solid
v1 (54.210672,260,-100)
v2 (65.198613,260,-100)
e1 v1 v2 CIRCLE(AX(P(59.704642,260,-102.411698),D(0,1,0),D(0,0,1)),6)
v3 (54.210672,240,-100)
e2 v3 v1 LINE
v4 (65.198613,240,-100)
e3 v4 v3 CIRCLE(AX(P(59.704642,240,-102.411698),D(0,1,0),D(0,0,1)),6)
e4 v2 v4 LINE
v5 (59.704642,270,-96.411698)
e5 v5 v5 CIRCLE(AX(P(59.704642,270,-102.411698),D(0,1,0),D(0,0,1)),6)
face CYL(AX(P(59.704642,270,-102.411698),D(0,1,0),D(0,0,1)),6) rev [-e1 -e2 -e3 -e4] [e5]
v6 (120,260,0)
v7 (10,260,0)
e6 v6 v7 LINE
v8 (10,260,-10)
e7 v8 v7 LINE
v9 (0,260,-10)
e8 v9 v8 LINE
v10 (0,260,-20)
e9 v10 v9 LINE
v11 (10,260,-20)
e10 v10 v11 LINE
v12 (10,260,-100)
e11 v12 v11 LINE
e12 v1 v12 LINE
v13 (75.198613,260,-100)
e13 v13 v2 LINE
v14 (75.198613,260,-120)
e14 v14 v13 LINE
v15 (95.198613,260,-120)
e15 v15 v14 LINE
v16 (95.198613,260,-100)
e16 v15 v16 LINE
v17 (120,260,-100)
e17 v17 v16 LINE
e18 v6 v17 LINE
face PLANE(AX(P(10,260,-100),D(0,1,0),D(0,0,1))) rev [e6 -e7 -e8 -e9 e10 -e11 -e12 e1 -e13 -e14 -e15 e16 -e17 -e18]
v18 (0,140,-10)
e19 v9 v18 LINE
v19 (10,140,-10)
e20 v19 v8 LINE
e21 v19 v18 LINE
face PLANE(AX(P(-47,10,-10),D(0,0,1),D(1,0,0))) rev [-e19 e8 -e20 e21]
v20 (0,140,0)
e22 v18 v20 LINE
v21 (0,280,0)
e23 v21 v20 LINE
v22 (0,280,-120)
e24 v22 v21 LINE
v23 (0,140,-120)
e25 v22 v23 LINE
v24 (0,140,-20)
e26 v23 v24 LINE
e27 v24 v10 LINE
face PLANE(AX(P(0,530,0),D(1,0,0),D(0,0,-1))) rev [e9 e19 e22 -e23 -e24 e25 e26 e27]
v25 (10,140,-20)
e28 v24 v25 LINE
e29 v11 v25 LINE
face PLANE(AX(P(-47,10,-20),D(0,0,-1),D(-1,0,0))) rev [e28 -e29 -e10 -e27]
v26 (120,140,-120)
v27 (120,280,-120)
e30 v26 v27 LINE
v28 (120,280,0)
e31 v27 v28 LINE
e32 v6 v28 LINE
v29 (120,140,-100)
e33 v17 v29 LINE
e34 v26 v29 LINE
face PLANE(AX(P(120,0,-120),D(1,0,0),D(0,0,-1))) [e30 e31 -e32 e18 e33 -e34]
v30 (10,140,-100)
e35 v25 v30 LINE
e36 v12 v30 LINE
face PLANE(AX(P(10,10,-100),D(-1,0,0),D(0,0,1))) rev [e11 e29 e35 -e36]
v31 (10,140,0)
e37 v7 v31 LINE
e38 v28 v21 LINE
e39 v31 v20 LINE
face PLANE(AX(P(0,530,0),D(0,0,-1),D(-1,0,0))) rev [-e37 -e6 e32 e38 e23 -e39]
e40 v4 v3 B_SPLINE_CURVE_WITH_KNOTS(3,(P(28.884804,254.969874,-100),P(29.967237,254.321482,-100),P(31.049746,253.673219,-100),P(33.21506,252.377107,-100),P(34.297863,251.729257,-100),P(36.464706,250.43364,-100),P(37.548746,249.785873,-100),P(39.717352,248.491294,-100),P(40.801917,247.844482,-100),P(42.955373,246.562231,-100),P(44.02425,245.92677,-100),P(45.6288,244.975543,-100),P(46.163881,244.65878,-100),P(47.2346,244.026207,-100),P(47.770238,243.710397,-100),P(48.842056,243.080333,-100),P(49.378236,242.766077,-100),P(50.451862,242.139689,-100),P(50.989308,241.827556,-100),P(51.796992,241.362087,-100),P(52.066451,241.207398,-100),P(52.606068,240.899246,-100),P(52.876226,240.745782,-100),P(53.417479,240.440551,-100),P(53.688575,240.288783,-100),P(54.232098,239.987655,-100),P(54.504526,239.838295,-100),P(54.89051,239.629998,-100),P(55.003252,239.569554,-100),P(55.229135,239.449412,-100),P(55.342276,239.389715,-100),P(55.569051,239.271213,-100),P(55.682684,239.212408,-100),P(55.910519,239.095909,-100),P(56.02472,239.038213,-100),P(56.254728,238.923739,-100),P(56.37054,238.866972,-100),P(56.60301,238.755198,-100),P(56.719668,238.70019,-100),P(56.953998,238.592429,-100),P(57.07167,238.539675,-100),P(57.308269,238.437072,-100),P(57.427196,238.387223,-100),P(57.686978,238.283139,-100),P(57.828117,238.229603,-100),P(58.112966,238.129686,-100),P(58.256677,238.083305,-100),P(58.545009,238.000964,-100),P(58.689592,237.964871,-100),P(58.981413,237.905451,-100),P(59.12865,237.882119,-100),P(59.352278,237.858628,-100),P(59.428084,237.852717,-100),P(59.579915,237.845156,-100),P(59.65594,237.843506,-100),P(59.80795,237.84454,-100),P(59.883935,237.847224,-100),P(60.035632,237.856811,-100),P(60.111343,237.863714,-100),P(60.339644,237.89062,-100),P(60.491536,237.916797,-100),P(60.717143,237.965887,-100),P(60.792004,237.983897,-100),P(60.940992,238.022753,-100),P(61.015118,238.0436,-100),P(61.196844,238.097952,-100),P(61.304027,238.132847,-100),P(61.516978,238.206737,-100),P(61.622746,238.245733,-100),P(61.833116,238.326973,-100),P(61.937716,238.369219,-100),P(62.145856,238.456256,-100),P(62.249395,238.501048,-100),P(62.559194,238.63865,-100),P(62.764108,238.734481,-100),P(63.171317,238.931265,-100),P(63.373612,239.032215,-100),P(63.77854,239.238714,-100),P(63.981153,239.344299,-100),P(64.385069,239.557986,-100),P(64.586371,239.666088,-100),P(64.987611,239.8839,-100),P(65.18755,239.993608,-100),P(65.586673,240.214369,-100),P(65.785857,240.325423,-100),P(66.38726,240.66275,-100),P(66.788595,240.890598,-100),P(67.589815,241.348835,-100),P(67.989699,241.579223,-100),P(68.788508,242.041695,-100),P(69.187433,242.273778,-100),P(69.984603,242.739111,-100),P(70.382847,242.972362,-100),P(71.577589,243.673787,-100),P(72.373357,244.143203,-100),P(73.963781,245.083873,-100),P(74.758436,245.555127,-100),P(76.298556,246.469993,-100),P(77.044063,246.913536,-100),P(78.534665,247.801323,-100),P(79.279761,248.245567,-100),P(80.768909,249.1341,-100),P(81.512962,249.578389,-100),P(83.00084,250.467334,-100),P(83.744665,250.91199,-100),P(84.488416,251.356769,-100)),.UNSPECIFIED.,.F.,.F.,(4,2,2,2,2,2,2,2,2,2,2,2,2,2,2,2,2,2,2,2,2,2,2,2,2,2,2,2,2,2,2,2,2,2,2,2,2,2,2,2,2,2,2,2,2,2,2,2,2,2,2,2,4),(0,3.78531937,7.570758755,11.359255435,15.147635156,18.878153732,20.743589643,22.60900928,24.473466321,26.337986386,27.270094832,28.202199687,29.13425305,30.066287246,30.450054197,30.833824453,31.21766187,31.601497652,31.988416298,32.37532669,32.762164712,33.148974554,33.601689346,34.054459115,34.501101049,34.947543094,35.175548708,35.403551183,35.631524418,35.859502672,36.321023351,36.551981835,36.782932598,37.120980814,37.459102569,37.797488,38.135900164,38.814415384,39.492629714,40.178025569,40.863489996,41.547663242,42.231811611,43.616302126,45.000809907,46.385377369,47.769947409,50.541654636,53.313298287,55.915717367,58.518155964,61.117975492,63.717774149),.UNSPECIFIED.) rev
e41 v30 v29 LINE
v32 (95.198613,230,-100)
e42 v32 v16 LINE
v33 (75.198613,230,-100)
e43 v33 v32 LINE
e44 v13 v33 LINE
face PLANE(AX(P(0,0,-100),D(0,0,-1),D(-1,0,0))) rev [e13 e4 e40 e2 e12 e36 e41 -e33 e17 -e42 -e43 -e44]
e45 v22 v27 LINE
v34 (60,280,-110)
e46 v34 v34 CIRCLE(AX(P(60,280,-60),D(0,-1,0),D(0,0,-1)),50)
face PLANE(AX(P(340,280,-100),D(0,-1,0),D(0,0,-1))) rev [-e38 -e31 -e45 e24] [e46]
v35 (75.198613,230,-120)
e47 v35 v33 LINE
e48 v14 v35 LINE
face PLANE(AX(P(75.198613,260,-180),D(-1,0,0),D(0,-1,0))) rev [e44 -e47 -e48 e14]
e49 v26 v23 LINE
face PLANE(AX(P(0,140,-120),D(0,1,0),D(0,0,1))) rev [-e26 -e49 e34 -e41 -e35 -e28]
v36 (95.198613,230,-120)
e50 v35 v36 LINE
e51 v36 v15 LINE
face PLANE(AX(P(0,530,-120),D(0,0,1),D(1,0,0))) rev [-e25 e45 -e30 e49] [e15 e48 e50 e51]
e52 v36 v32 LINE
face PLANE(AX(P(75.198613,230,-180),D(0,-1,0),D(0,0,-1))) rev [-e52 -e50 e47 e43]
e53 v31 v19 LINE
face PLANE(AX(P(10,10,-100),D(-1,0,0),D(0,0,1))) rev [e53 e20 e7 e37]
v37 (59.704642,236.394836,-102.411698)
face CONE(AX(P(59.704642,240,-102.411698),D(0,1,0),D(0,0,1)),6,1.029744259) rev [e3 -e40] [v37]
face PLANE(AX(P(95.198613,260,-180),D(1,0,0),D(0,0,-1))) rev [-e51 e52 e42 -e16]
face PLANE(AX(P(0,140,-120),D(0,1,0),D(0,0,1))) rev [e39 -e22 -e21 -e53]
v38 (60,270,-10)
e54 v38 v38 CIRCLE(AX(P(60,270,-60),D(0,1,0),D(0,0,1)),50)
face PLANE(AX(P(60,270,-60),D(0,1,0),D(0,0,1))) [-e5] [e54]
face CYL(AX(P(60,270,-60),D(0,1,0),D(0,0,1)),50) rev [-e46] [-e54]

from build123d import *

# Parameters (mm, degrees)
SKETCH1_W                      = 670
SKETCH1_H                      = 120
BOSS_EXTRUDE1_DEPTH            = 530
SKETCH2_W                      = 100
SKETCH2_H                      = 200
SKETCH2_W_2                    = 650
SKETCH2_H_2                    = 250
CUT_EXTRUDE1_DEPTH             = 100
SKETCH3_R                      = 50
CUT_EXTRUDE2_DEPTH             = 260
F_12_0_12_DIAMETER_HOLE2_D     = 12
F_12_0_12_DIAMETER_HOLE2_DEPTH = 30
F_12_0_12_DIAMETER_HOLE2_TIP   = 3.605163714
SKETCH8_W                      = 650
SKETCH8_H                      = 50
BOSS_EXTRUDE2_DEPTH            = 5
SKETCH9_W                      = 10
SKETCH9_H                      = 250
CUT_EXTRUDE3_DEPTH             = 717
CUT_EXTRUDE4_DEPTH             = 5
SKETCH11_W                     = 10
SKETCH11_H                     = 100
BOSS_EXTRUDE3_DEPTH            = 78
BOSS_EXTRUDE3_2_DEPTH          = 78
BOSS_EXTRUDE3_3_DEPTH          = 78
SKETCH12_W                     = 20
SKETCH12_H                     = 30
CUT_EXTRUDE5_DEPTH             = 80
SKETCH15_W                     = 30
SKETCH15_H                     = 23.536156656
SKETCH15_H_2                   = 28.986603691
CUT_EXTRUDE7_DEPTH             = 35
SHELL1_T                       = -3
SKETCH16_W                     = 14
SKETCH16_H                     = 14
CUT_EXTRUDE8_DEPTH             = 35
SKETCH17_W                     = 5.729882812
SKETCH17_H                     = 17.428393554
SKETCH17_W_2                   = 13.369726562
SKETCH17_H_2                   = 3.342431641
BOSS_EXTRUDE4_DEPTH            = 5
CUT_EXTRUDE10_DEPTH            = 863.670273187
CUT_EXTRUDE10_DEPTH_BACK       = 863.670273187
SKETCH18_W                     = 670
SKETCH18_H                     = 250
CUT_EXTRUDE11_DEPTH            = 734.007503372
CUT_EXTRUDE11_DEPTH_BACK       = 734.007503372
SKETCH19_W                     = 550
SKETCH19_H                     = 280
CUT_EXTRUDE12_DEPTH            = 321.624390838
CUT_EXTRUDE12_DEPTH_BACK       = 321.624390838
SKETCH20_W                     = 120
SKETCH20_H                     = 140


with BuildPart() as part:
    # Sketch1 → Boss-Extrude1 (new body)
    with BuildSketch(Plane(origin=(0, 0, 0), x_dir=(1, 0, 0), z_dir=(0, 1, 0))):
        with Locations((335, 60)):
            Rectangle(SKETCH1_W, SKETCH1_H)
    extrude(amount=BOSS_EXTRUDE1_DEPTH)

    # Sketch2 → Cut-Extrude1 (cut)
    with BuildSketch(Plane.XY):
        with Locations((60, 380)):
            Rectangle(SKETCH2_W, SKETCH2_H)
        with Locations((170, 380)):
            Rectangle(SKETCH2_W, SKETCH2_H)
        with Locations((280, 380)):
            Rectangle(SKETCH2_W, SKETCH2_H)
        with Locations((390, 380)):
            Rectangle(SKETCH2_W, SKETCH2_H)
        with Locations((500, 380)):
            Rectangle(SKETCH2_W, SKETCH2_H)
        with Locations((610, 380)):
            Rectangle(SKETCH2_W, SKETCH2_H)
        with Locations((335, 135)):
            Rectangle(SKETCH2_W_2, SKETCH2_H_2)
    extrude(amount=-CUT_EXTRUDE1_DEPTH, mode=Mode.SUBTRACT)

    # Sketch3 → Cut-Extrude2 (cut)
    with BuildSketch(Plane(origin=(0, 530, 0), x_dir=(1, 0, 0), z_dir=(0, 1, 0))):
        with Locations(Location((60, 60, 0), (0, 0, 270))):
            Circle(SKETCH3_R)
        with Locations(Location((170, 60, 0), (0, 0, 270))):
            Circle(SKETCH3_R)
        with Locations(Location((280, 60, 0), (0, 0, 270))):
            Circle(SKETCH3_R)
        with Locations(Location((390, 60, 0), (0, 0, 270))):
            Circle(SKETCH3_R)
        with Locations(Location((500, 60, 0), (0, 0, 270))):
            Circle(SKETCH3_R)
        with Locations(Location((610, 60, 0), (0, 0, 270))):
            Circle(SKETCH3_R)
    extrude(amount=-CUT_EXTRUDE2_DEPTH, mode=Mode.SUBTRACT)

    # Ø12.0 (12) Diameter Hole2
    with Locations(Plane(origin=(59.704642413, 270, -102.411697903), x_dir=(0, 0, 1), z_dir=(0, 1, 0))):
        with Locations((0, 0), (-0.195888006, 111.8520513), (0.014838595, 221.167624818), (-0.341843303, 331.364008353), (0.657723149, 441.008646429), (1.288998006, 549.811854685)):
            Hole(F_12_0_12_DIAMETER_HOLE2_D / 2, depth=F_12_0_12_DIAMETER_HOLE2_DEPTH)
            with Locations((0, 0, -(F_12_0_12_DIAMETER_HOLE2_DEPTH + F_12_0_12_DIAMETER_HOLE2_TIP / 2))):  # 118° drill point
                Cone(0, F_12_0_12_DIAMETER_HOLE2_D / 2, F_12_0_12_DIAMETER_HOLE2_TIP, mode=Mode.SUBTRACT)

    # Sketch8 → Boss-Extrude2 (add)
    with BuildSketch(Plane.XY):
        with Locations((335, 305)):
            Rectangle(SKETCH8_W, SKETCH8_H)
    extrude(amount=-BOSS_EXTRUDE2_DEPTH)

    # Sketch9 → Cut-Extrude3 (cut)
    with BuildSketch(Plane(origin=(670, 0, 0), x_dir=(0, 0, -1), z_dir=(1, 0, 0))):
        with Locations((15, 135)):
            Rectangle(SKETCH9_W, SKETCH9_H)
    extrude(amount=-CUT_EXTRUDE3_DEPTH, mode=Mode.SUBTRACT)

    # Sketch10 → Cut-Extrude4 (cut)
    with BuildSketch(Plane(origin=(0, 10, 0), x_dir=(1, 0, 0), z_dir=(0, 1, 0))):
        Polygon((365, 61.943560596), (350, 87.924322709), (320, 87.924322709), (305, 61.943560596), (320, 35.962798482), (350, 35.962798482), align=None)
    extrude(amount=-CUT_EXTRUDE4_DEPTH, mode=Mode.SUBTRACT)

    # Sketch12 → Cut-Extrude5 (cut)
    with BuildSketch(Plane.XY.offset(-100)):
        with Locations((85.198613037, 245)):
            Rectangle(SKETCH12_W, SKETCH12_H)
        with Locations((195.198613037, 245)):
            Rectangle(SKETCH12_W, SKETCH12_H)
        with Locations((305.198613037, 245)):
            Rectangle(SKETCH12_W, SKETCH12_H)
        with Locations((415.198613037, 245)):
            Rectangle(SKETCH12_W, SKETCH12_H)
        with Locations((525.198613037, 245)):
            Rectangle(SKETCH12_W, SKETCH12_H)
        with Locations((635.198613037, 245)):
            Rectangle(SKETCH12_W, SKETCH12_H)
    extrude(amount=-CUT_EXTRUDE5_DEPTH, mode=Mode.SUBTRACT)

    # Sketch17 → Boss-Extrude4 (add)
    # profile 1 of 9: a face of its own
    with BuildSketch(Plane.XY):
        with BuildLine():
            Line((527.508830928, 289.835452458), (527.508830928, 307.263846012))
            Line((527.508830928, 307.263846012), (534.861434459, 307.263846012))
            add(Edge.make_bspline(
                [(534.861434459, 307.263846012), (535.181337774, 307.258256848), (535.803061116, 307.24739446), (536.703508491, 307.139069344), (537.544992916, 306.975202489), (538.325061607, 306.737496792), (539.040841948, 306.426020155), (539.698044515, 306.051894954), (540.290333057, 305.605079277), (540.822348212, 305.090232636), (541.284521701, 304.502523111), (541.692171296, 303.852565801), (542.030284458, 303.129762281), (542.309377095, 302.341316546), (542.5243908, 301.484161689), (542.679660381, 300.560045938), (542.773357357, 299.567500804), (542.783368073, 298.883107022), (542.788518428, 298.530997273)],
                knots=[0, 0, 0, 0, 1.135059408, 2.20595691, 3.214417064, 4.174978569, 5.094187092, 5.980001006, 6.853065862, 7.720814779, 8.600404634, 9.50058483, 10.438414914, 11.426825708, 12.465239141, 13.571113463, 14.750376389, 16, 16, 16, 16], degree=3))
            add(Edge.make_bspline(
                [(542.788518428, 298.530997273), (542.781740751, 298.180151665), (542.768592871, 297.499553336), (542.676885992, 296.511518461), (542.516733301, 295.591080531), (542.296748778, 294.736450427), (542.003051046, 293.953120444), (541.654236167, 293.233205539), (541.233025793, 292.585291498), (540.753136904, 292.000029304), (540.204772188, 291.484681411), (539.587651059, 291.044279297), (538.910779309, 290.668464036), (538.169670382, 290.361903209), (537.364073889, 290.124869172), (536.495133477, 289.954199984), (535.562644449, 289.853487388), (534.920131033, 289.841584621), (534.58911581, 289.835452458)],
                knots=[0, 0, 0, 0, 1.228418252, 2.382983832, 3.470276728, 4.496757894, 5.468023682, 6.394867725, 7.292157164, 8.167372942, 9.039072913, 9.918728341, 10.815246345, 11.744296628, 12.720973084, 13.750736166, 14.841206188, 16, 16, 16, 16], degree=3))
            Line((534.58911581, 289.835452458), (527.508830928, 289.835452458))
        make_face()
        with BuildLine():
            Line((533.238713741, 291.745413395), (534.048208904, 291.745413395))
            add(Edge.make_bspline(
                [(534.048208904, 291.745413395), (534.172894012, 291.749291978), (534.413033311, 291.756761998), (534.758676231, 291.825976613), (535.075745017, 291.938271137), (535.365749176, 292.094802589), (535.623404602, 292.300450923), (535.848862806, 292.551404902), (536.04776914, 292.844737637), (536.217685755, 293.190205032), (536.364284647, 293.596533622), (536.481764702, 294.076367921), (536.592118304, 294.630928744), (536.673672739, 295.265507643), (536.740044562, 295.978448886), (536.788346679, 296.768428292), (536.812018936, 297.636801208), (536.817188964, 298.241258393), (536.819890499, 298.55711002)],
                knots=[0, 0, 0, 0, 0.728710832, 1.403472396, 2.052289494, 2.690292559, 3.321919393, 3.970736491, 4.656696891, 5.388631723, 6.217040872, 7.17856157, 8.275589967, 9.523440737, 10.918935818, 12.463926104, 14.152268318, 16, 16, 16, 16], degree=3))
            add(Edge.make_bspline(
                [(536.819890499, 298.55711002), (536.8171426, 298.871715251), (536.811863063, 299.476166083), (536.7886758, 300.343334385), (536.739579947, 301.133216935), (536.674703848, 301.843934916), (536.589660404, 302.476324031), (536.488366458, 303.031681737), (536.362441588, 303.507627045), (536.222158727, 303.914921549), (536.050140993, 304.256514038), (535.858357073, 304.554097881), (535.62547107, 304.79746827), (535.36991257, 305.004888479), (535.079348843, 305.160875844), (534.761320266, 305.273944358), (534.414185903, 305.34216807), (534.172870641, 305.349893944), (534.048208904, 305.353885075)],
                knots=[0, 0, 0, 0, 1.842836665, 3.540640921, 5.080358154, 6.47765669, 7.719902824, 8.816971715, 9.781579111, 10.601733135, 11.334613876, 12.017393917, 12.666641099, 13.29908421, 13.937911793, 14.587567384, 15.270347425, 16, 16, 16, 16], degree=3))
            Line((534.048208904, 305.353885075), (533.238713741, 305.353885075))
            Line((533.238713741, 305.353885075), (533.238713741, 291.745413395))
        make_face(mode=Mode.SUBTRACT)
    # profile 2 of 9: a face of its own
    with BuildSketch(Plane.XY):
        with Locations((547.563420772, 298.549649235)):
            Rectangle(SKETCH17_W, SKETCH17_H)
    # profile 3 of 9: a face of its own
    with BuildSketch(Plane.XY):
        Polygon((564.514324092, 307.263846012), (564.514324092, 305.115139958), (558.545696163, 305.115139958), (558.545696163, 299.862747379), (563.559343624, 299.862747379), (563.559343624, 297.714041325), (558.545696163, 297.714041325), (558.545696163, 289.835452458), (552.81581335, 289.835452458), (552.81581335, 307.263846012), align=None)
    # profile 4 of 9: a face of its own
    with BuildSketch(Plane.XY):
        Polygon((577.645305538, 307.263846012), (577.645305538, 305.115139958), (571.676677608, 305.115139958), (571.676677608, 299.862747379), (576.690325069, 299.862747379), (576.690325069, 297.714041325), (571.676677608, 297.714041325), (571.676677608, 289.835452458), (565.946794795, 289.835452458), (565.946794795, 307.263846012), align=None)
    # profile 5 of 9: a face of its own
    with BuildSketch(Plane.XY):
        with Locations((584.330168819, 287.448001286)):
            Rectangle(SKETCH17_W_2, SKETCH17_H_2)
    # profile 6 of 9: a face of its own
    with BuildSketch(Plane.XY):
        with BuildLine():
            Line((605.578484249, 307.263846012), (605.578484249, 295.602639195))
            add(Edge.make_bspline(
                [(605.578484249, 295.602639195), (605.574209777, 295.35989389), (605.565919345, 294.889083964), (605.480877158, 294.20653885), (605.349958188, 293.569747554), (605.15926554, 292.978838165), (604.911867049, 292.436847071), (604.616163877, 291.936663973), (604.260702644, 291.487723021), (603.847299908, 291.08966617), (603.386881991, 290.731670113), (602.867295001, 290.425440037), (602.293741958, 290.168488385), (601.66690529, 289.960990771), (600.988052682, 289.797299786), (600.254912883, 289.679078851), (599.467035781, 289.60781007), (598.923618241, 289.60048219), (598.643684673, 289.59670734)],
                knots=[0, 0, 0, 0, 1.108173197, 2.149326602, 3.136215123, 4.073726706, 4.978516626, 5.852185058, 6.72141202, 7.584905625, 8.467554395, 9.379216169, 10.332422268, 11.332766067, 12.390653242, 13.518530507, 14.721707419, 16, 16, 16, 16], degree=3))
            add(Edge.make_bspline(
                [(598.643684673, 289.59670734), (598.373688491, 289.600411437), (597.851346557, 289.607577482), (597.093280473, 289.679448684), (596.387523889, 289.797736542), (595.733050135, 289.960122315), (595.130189942, 290.169220301), (594.579048171, 290.42623041), (594.078350789, 290.732835498), (593.633858028, 291.090104794), (593.234289459, 291.486851767), (592.899913678, 291.940746827), (592.609043638, 292.435866034), (592.375223767, 292.980322997), (592.191754821, 293.570441519), (592.063541006, 294.20666921), (591.983676196, 294.889343196), (591.974661767, 295.359932437), (591.970012569, 295.602639195)],
                knots=[0, 0, 0, 0, 1.258901956, 2.435505865, 3.547148904, 4.59359074, 5.576649289, 6.5183682, 7.424469602, 8.307507093, 9.172751023, 10.042627298, 10.928839176, 11.845659241, 12.799442865, 13.80597989, 14.868432463, 16, 16, 16, 16], degree=3))
            Line((591.970012569, 295.602639195), (591.970012569, 307.263846012))
            Line((591.970012569, 307.263846012), (597.699895381, 307.263846012))
            Line((597.699895381, 307.263846012), (597.699895381, 295.457153889))
            add(Edge.make_bspline(
                [(597.699895381, 295.457153889), (597.700816195, 295.287996189), (597.702584578, 294.963135903), (597.729908723, 294.499051493), (597.768241004, 294.079064133), (597.828226169, 293.705517832), (597.90066041, 293.377063412), (597.989882091, 293.09281535), (598.094998068, 292.852496478), (598.225239063, 292.654232043), (598.380826623, 292.495135011), (598.55368342, 292.353231761), (598.757556996, 292.238543846), (598.987648905, 292.146224908), (599.243380948, 292.070549638), (599.526120553, 292.020376099), (599.83553351, 291.990763905), (600.049971942, 291.986424568), (600.161954402, 291.984158512)],
                knots=[0, 0, 0, 0, 1.622370975, 3.115695595, 4.458049099, 5.666011203, 6.742434742, 7.681714947, 8.519814998, 9.250928664, 9.942747364, 10.646898194, 11.389596108, 12.175933929, 13.021386247, 13.943159715, 14.925891993, 16, 16, 16, 16], degree=3))
            add(Edge.make_bspline(
                [(600.161954402, 291.984158512), (600.283927219, 291.987190593), (600.521124756, 291.993087005), (600.86597014, 292.03390861), (601.187714881, 292.103380086), (601.484890424, 292.205377303), (601.758665297, 292.332852529), (602.012761516, 292.484567923), (602.236391413, 292.674631152), (602.439076761, 292.888441291), (602.620738276, 293.128529789), (602.771757722, 293.399928575), (602.905501548, 293.697121508), (603.005823683, 294.025060118), (603.089837826, 294.379999499), (603.146989706, 294.763086929), (603.186210275, 295.174074524), (603.189394751, 295.457053988), (603.191033077, 295.602639195)],
                knots=[0, 0, 0, 0, 1.083870311, 2.107775948, 3.08105344, 4.003637981, 4.893545291, 5.761570557, 6.624657808, 7.49233129, 8.376387281, 9.291996285, 10.246843261, 11.267344133, 12.334180325, 13.486053461, 14.706643157, 16, 16, 16, 16], degree=3))
            Line((603.191033077, 295.602639195), (603.191033077, 307.263846012))
            Line((603.191033077, 307.263846012), (605.578484249, 307.263846012))
        make_face()
    # profile 7 of 9: a face of its own
    with BuildSketch(Plane.XY):
        with BuildLine():
            Line((619.731593227, 302.015183827), (616.739818477, 301.526502415))
            add(Edge.make_bspline(
                [(616.739818477, 301.526502415), (616.748849224, 301.670726223), (616.765660669, 301.939210177), (616.78429066, 302.312269209), (616.796668381, 302.625642376), (616.798628236, 302.814722915), (616.799504756, 302.899286839)],
                knots=[0, 0, 0, 0, 1.261802504, 2.348944521, 3.261585937, 4, 4, 4, 4], degree=3))
            add(Edge.make_bspline(
                [(616.799504756, 302.899286839), (616.798306068, 303.007660677), (616.795968139, 303.219033721), (616.750451916, 303.523894877), (616.694806916, 303.811547356), (616.604352699, 304.076787391), (616.488181329, 304.320314265), (616.348943917, 304.543955606), (616.184187178, 304.745078709), (615.995833421, 304.928129987), (615.778009957, 305.083200131), (615.536269472, 305.218702836), (615.269765326, 305.333844758), (614.978065514, 305.431346685), (614.660683072, 305.504624438), (614.319025281, 305.556776695), (613.952471696, 305.585673441), (613.699597795, 305.590260771), (613.568984889, 305.592630192)],
                knots=[0, 0, 0, 0, 1.079280541, 2.105035848, 3.067950317, 3.99715044, 4.889989748, 5.753421302, 6.617030865, 7.476358039, 8.364190572, 9.274590025, 10.235106994, 11.254473582, 12.337095886, 13.478601727, 14.697662529, 16, 16, 16, 16], degree=3))
            add(Edge.make_bspline(
                [(613.568984889, 305.592630192), (613.391954632, 305.58912286), (613.059112606, 305.582528579), (612.595688488, 305.495339748), (612.198743126, 305.361419257), (611.87165349, 305.163811893), (611.613188167, 304.909795747), (611.433841092, 304.593316589), (611.323009072, 304.224665915), (611.313400221, 303.959558324), (611.308367061, 303.820693775)],
                knots=[0, 0, 0, 0, 1.294917039, 2.43462794, 3.440028966, 4.347597256, 5.210608309, 6.06356377, 6.985685997, 8, 8, 8, 8], degree=3))
            add(Edge.make_bspline(
                [(611.308367061, 303.820693775), (611.317562032, 303.705133219), (611.336106628, 303.472068433), (611.47315858, 303.132808312), (611.695999602, 302.811560885), (612.009295906, 302.510664216), (612.404107796, 302.221967273), (612.884407504, 301.948533431), (613.450813789, 301.688189695), (613.862519081, 301.536023727), (614.080048656, 301.455624958)],
                knots=[0, 0, 0, 0, 0.716839541, 1.445735977, 2.240793036, 3.131329288, 4.131129903, 5.273471266, 6.559404876, 8, 8, 8, 8], degree=3))
            add(Edge.make_bspline(
                [(614.080048656, 301.455624958), (614.335934702, 301.364918412), (614.834564244, 301.188164095), (615.547657928, 300.88707802), (616.213068388, 300.5749594), (616.829579094, 300.246613346), (617.397833174, 299.90520698), (617.914851624, 299.544556457), (618.386199073, 299.173962102), (618.807001026, 298.783874588), (619.177995113, 298.378100064), (619.4958685, 297.952745357), (619.771807525, 297.51723103), (619.991113975, 297.061458502), (620.169645242, 296.594624218), (620.292698657, 296.11024444), (620.364288243, 295.609761088), (620.37516617, 295.270864226), (620.380681514, 295.099036213)],
                knots=[0, 0, 0, 0, 1.359488612, 2.649152603, 3.874964776, 5.039588756, 6.146130126, 7.193090393, 8.194917302, 9.146793662, 10.063845301, 10.944476293, 11.803344532, 12.641736646, 13.473440096, 14.302714936, 15.139439897, 16, 16, 16, 16], degree=3))
            add(Edge.make_bspline(
                [(620.380681514, 295.099036213), (620.374476075, 294.902306495), (620.362285176, 294.515820995), (620.280160209, 293.948630617), (620.138011896, 293.409496554), (619.938489338, 292.895972278), (619.681049879, 292.411946655), (619.366518754, 291.954381076), (618.996510229, 291.525099427), (618.5710008, 291.128381035), (618.102222518, 290.765302239), (617.587803957, 290.450854345), (617.034458515, 290.187092261), (616.444107988, 289.968993032), (615.81453624, 289.801373099), (615.145337453, 289.685291013), (614.438790193, 289.606619894), (613.954683001, 289.600062276), (613.70700941, 289.59670734)],
                knots=[0, 0, 0, 0, 0.972121714, 1.909782367, 2.824924061, 3.721832975, 4.62620438, 5.527836938, 6.46026819, 7.421000932, 8.398101015, 9.385579713, 10.394244048, 11.422703992, 12.491421888, 13.608778581, 14.776629625, 16, 16, 16, 16], degree=3))
            add(Edge.make_bspline(
                [(613.70700941, 289.59670734), (613.445745367, 289.599650312), (612.939893069, 289.605348413), (612.207608113, 289.66709241), (611.525297432, 289.760984454), (610.893395078, 289.899706116), (610.309273131, 290.072394336), (609.776099392, 290.288320955), (609.295310255, 290.547303481), (608.863217672, 290.843007892), (608.478306623, 291.175775461), (608.148120946, 291.551766865), (607.86942369, 291.967163224), (607.639947144, 292.421521488), (607.466477665, 292.917583541), (607.339164663, 293.449829748), (607.264537999, 294.021332449), (607.254747521, 294.414908557), (607.249700069, 294.617815586)],
                knots=[0, 0, 0, 0, 1.342201143, 2.598733168, 3.773451092, 4.878874364, 5.91991243, 6.900006476, 7.829142054, 8.72062616, 9.585588575, 10.436728592, 11.283829734, 12.149664931, 13.044964919, 13.977937424, 14.957531465, 16, 16, 16, 16], degree=3))
            add(Edge.make_bspline(
                [(607.249700069, 294.617815586), (607.250803815, 294.692425759), (607.253213998, 294.855347393), (607.260452266, 295.122772538), (607.275636683, 295.433682216), (607.29037174, 295.656130545), (607.298195171, 295.774237248)],
                knots=[0, 0, 0, 0, 0.773500207, 1.689044709, 2.77302154, 4, 4, 4, 4], degree=3))
            Line((607.298195171, 295.774237248), (610.36457777, 296.337526509))
            add(Edge.make_bspline(
                [(610.36457777, 296.337526509), (610.326952988, 296.136337493), (610.255606535, 295.754830366), (610.178678473, 295.21219969), (610.124206629, 294.733311493), (610.11767002, 294.435147371), (610.114641475, 294.297001835)],
                knots=[0, 0, 0, 0, 1.192988372, 2.262218769, 3.194850416, 4, 4, 4, 4], degree=3))
            add(Edge.make_bspline(
                [(610.114641475, 294.297001835), (610.116191817, 294.183708768), (610.119182568, 293.965156219), (610.159053378, 293.648552813), (610.215988606, 293.352999663), (610.302906772, 293.079707227), (610.411206928, 292.826307836), (610.544682453, 292.59538211), (610.704385489, 292.386485019), (610.887496571, 292.200099922), (611.094689168, 292.033628705), (611.327456494, 291.892756696), (611.58347653, 291.771733922), (611.864681562, 291.677479524), (612.167961721, 291.596080628), (612.497219749, 291.548235723), (612.849461228, 291.512043782), (613.092629543, 291.508500084), (613.218327999, 291.506668278)],
                knots=[0, 0, 0, 0, 1.135776692, 2.191015738, 3.19649269, 4.151244236, 5.061952528, 5.956281389, 6.819534407, 7.692823504, 8.571441916, 9.478554956, 10.416037156, 11.406231466, 12.450054172, 13.561596327, 14.739541482, 16, 16, 16, 16], degree=3))
            add(Edge.make_bspline(
                [(613.218327999, 291.506668278), (613.423996012, 291.510791273), (613.810619321, 291.518541853), (614.349272542, 291.616708407), (614.810575885, 291.768742445), (615.189785268, 291.991387532), (615.490778961, 292.278756613), (615.698005174, 292.637320004), (615.824813318, 293.05638326), (615.837728413, 293.355975238), (615.844524288, 293.513619419)],
                knots=[0, 0, 0, 0, 1.308765556, 2.460272085, 3.475015317, 4.388076298, 5.239673503, 6.095681635, 6.997954785, 8, 8, 8, 8], degree=3))
            add(Edge.make_bspline(
                [(615.844524288, 293.513619419), (615.833808824, 293.638242951), (615.811807312, 293.894126055), (615.644884004, 294.264515838), (615.382382362, 294.620631473), (615.016807277, 294.962984909), (614.551376589, 295.293471235), (613.986957743, 295.616730224), (613.322148235, 295.933112033), (612.83677959, 296.119639164), (612.580430889, 296.21815395)],
                knots=[0, 0, 0, 0, 0.667930748, 1.371427933, 2.146459016, 3.034714139, 4.04893387, 5.207327294, 6.525042705, 8, 8, 8, 8], degree=3))
            add(Edge.make_bspline(
                [(612.580430889, 296.21815395), (612.374354345, 296.29679374), (611.970646869, 296.450850434), (611.394079385, 296.713586304), (610.853066711, 296.987016804), (610.357486361, 297.288235735), (609.896382561, 297.599610528), (609.477036946, 297.932256792), (609.09841673, 298.284556341), (608.758710772, 298.653375077), (608.457302107, 299.038989264), (608.199448649, 299.444659231), (607.977533299, 299.866789834), (607.798609588, 300.308107488), (607.65975715, 300.767821241), (607.559616231, 301.244439392), (607.497905054, 301.739995674), (607.491630423, 302.075933546), (607.488445186, 302.246468159)],
                knots=[0, 0, 0, 0, 1.249558333, 2.447906163, 3.58867143, 4.682264114, 5.731748367, 6.739728761, 7.711906036, 8.659384707, 9.578321416, 10.481344598, 11.379544271, 12.277135726, 13.175418307, 14.097160112, 15.034047388, 16, 16, 16, 16], degree=3))
            add(Edge.make_bspline(
                [(607.488445186, 302.246468159), (607.49282555, 302.439538736), (607.501402184, 302.817565692), (607.587451154, 303.36980586), (607.719291893, 303.894921371), (607.910558542, 304.389343064), (608.156192894, 304.852853762), (608.453187669, 305.288766511), (608.804241719, 305.697593471), (609.213503754, 306.066686531), (609.657214714, 306.407618241), (610.14376173, 306.697651931), (610.658716537, 306.950861947), (611.210636666, 307.148827868), (611.791820619, 307.313252612), (612.408080529, 307.421140415), (613.056315391, 307.490701612), (613.499160755, 307.498567824), (613.725661373, 307.502591129)],
                knots=[0, 0, 0, 0, 1.01033566, 1.978209831, 2.919499157, 3.840961976, 4.746855014, 5.660740114, 6.597989116, 7.56120833, 8.541877795, 9.523498025, 10.522416858, 11.542172371, 12.589598349, 13.681636521, 14.814234488, 16, 16, 16, 16], degree=3))
            add(Edge.make_bspline(
                [(613.725661373, 307.502591129), (613.968269855, 307.498219033), (614.438190994, 307.489750488), (615.120391152, 307.426787419), (615.755073228, 307.319142339), (616.345153155, 307.171557286), (616.887304575, 306.977590666), (617.384933999, 306.742393454), (617.834452216, 306.46201507), (618.236961315, 306.139451502), (618.593086714, 305.773322851), (618.897467704, 305.361641069), (619.158701245, 304.909408454), (619.366684143, 304.412232174), (619.529870326, 303.873247147), (619.649133834, 303.29158184), (619.720420497, 302.667301443), (619.72779778, 302.236712324), (619.731593227, 302.015183827)],
                knots=[0, 0, 0, 0, 1.248314423, 2.417925914, 3.521398822, 4.558068205, 5.543720209, 6.479599284, 7.385061127, 8.263440163, 9.127722873, 10.00561236, 10.891325273, 11.808802823, 12.772251995, 13.784947978, 14.860405143, 16, 16, 16, 16], degree=3))
        make_face()
    # profile 8 of 9: a face of its own
    with BuildSketch(Plane.XY):
        Polygon((633.989153194, 307.263846012), (633.989153194, 305.115139958), (628.020525264, 305.115139958), (628.020525264, 300.340237614), (633.034172725, 300.340237614), (633.034172725, 298.191531559), (628.020525264, 298.191531559), (628.020525264, 291.984158512), (634.944133663, 291.984158512), (634.944133663, 289.835452458), (622.290642452, 289.835452458), (622.290642452, 307.263846012), align=None)
    # profile 9 of 9: a face of its own
    with BuildSketch(Plane.XY):
        with BuildLine():
            Line((636.376604366, 289.835452458), (636.376604366, 307.263846012))
            Line((636.376604366, 307.263846012), (643.990335369, 307.263846012))
            add(Edge.make_bspline(
                [(643.990335369, 307.263846012), (644.237946498, 307.261150834), (644.721600887, 307.25588639), (645.426490561, 307.189203683), (646.094808274, 307.090496236), (646.724915796, 306.949857504), (647.317873659, 306.767252686), (647.871119087, 306.542146), (648.390701058, 306.282329135), (648.864494846, 305.976472528), (649.295093616, 305.642889252), (649.669668547, 305.279483604), (649.990389523, 304.894749072), (650.250664962, 304.483256345), (650.454275633, 304.048690948), (650.59581384, 303.587791605), (650.684089268, 303.104102537), (650.695510601, 302.772834174), (650.701311397, 302.604585835)],
                knots=[0, 0, 0, 0, 1.303269877, 2.545653735, 3.724355284, 4.8584284, 5.941462088, 6.987020715, 8.000098032, 8.995332524, 9.951400474, 10.863507538, 11.737823931, 12.582415999, 13.420128714, 14.25671499, 15.114600608, 16, 16, 16, 16], degree=3))
            add(Edge.make_bspline(
                [(650.701311397, 302.604585835), (650.698282873, 302.472674957), (650.692382063, 302.215658276), (650.651041486, 301.838684287), (650.580643818, 301.480313933), (650.481036683, 301.139915259), (650.347814833, 300.820175594), (650.191279492, 300.517863507), (650.009772227, 300.230553342), (649.788675198, 299.970497982), (649.548268341, 299.722842359), (649.274558803, 299.497116911), (648.974487035, 299.288655528), (648.642526299, 299.104010513), (648.287619671, 298.928055749), (647.899038177, 298.784921972), (647.486819978, 298.644749395), (647.19793098, 298.577036306), (647.049257183, 298.54218845)],
                knots=[0, 0, 0, 0, 1.057156483, 2.059775939, 3.035078039, 3.981068617, 4.897189472, 5.80650904, 6.70770952, 7.613691521, 8.536886357, 9.470937334, 10.45233069, 11.461024139, 12.51295332, 13.623444893, 14.776929983, 16, 16, 16, 16], degree=3))
            add(Edge.make_bspline(
                [(647.049257183, 298.54218845), (647.19164695, 298.499279419), (647.467865022, 298.416041346), (647.856360945, 298.265600017), (648.211652989, 298.111536308), (648.524185739, 297.936781388), (648.807636894, 297.762122504), (649.047122259, 297.564301324), (649.255235567, 297.361673563), (649.425188343, 297.135464734), (649.570253643, 296.882344437), (649.694827156, 296.586596707), (649.815179167, 296.247423665), (649.917667348, 295.859098311), (650.004750555, 295.423699276), (650.088222437, 294.944027189), (650.153853601, 294.416024546), (650.187587341, 294.048412906), (650.2051692, 293.856815525)],
                knots=[0, 0, 0, 0, 1.149282524, 2.229462177, 3.219229774, 4.139917433, 4.995948464, 5.788695735, 6.536448429, 7.236319808, 7.968460079, 8.78645307, 9.713791991, 10.749194692, 11.887975363, 13.146018663, 14.512518948, 16, 16, 16, 16], degree=3))
            add(Edge.make_bspline(
                [(650.2051692, 293.856815525), (650.225980287, 293.627849833), (650.265975604, 293.187817268), (650.348933081, 292.554613589), (650.44386163, 291.974357025), (650.555874504, 291.44528724), (650.681301216, 290.967898855), (650.821280597, 290.540469593), (650.979920039, 290.165788217), (651.10484481, 289.941461656), (651.163880062, 289.835452458)],
                knots=[0, 0, 0, 0, 1.324580516, 2.545615266, 3.678710841, 4.711533017, 5.660403917, 6.521349952, 7.301239649, 8, 8, 8, 8], degree=3))
            Line((651.163880062, 289.835452458), (645.213904094, 289.835452458))
            add(Edge.make_bspline(
                [(645.213904094, 289.835452458), (645.12229736, 290.069847279), (644.935171241, 290.548648246), (644.7595281, 291.319414791), (644.64846922, 292.142514735), (644.635117598, 292.70994511), (644.628232479, 293.002555653)],
                knots=[0, 0, 0, 0, 0.930410518, 1.900560147, 2.917368081, 4, 4, 4, 4], degree=3))
            Line((644.628232479, 293.002555653), (644.605850124, 294.002300831))
            Line((644.605850124, 294.002300831), (644.579737377, 295.266903874))
            add(Edge.make_bspline(
                [(644.579737377, 295.266903874), (644.573694669, 295.477395004), (644.562357007, 295.872330118), (644.469348432, 296.426164013), (644.30178735, 296.894645884), (644.073222546, 297.287223005), (643.766741442, 297.590613479), (643.39104803, 297.804152917), (642.950456912, 297.93396284), (642.634664848, 297.946292392), (642.468335247, 297.952786442)],
                knots=[0, 0, 0, 0, 1.295300309, 2.430314163, 3.439929415, 4.342995669, 5.203512789, 6.060756153, 6.978588463, 8, 8, 8, 8], degree=3))
            Line((642.468335247, 297.952786442), (642.106487178, 297.952786442))
            Line((642.106487178, 297.952786442), (642.106487178, 289.835452458))
            Line((642.106487178, 289.835452458), (636.376604366, 289.835452458))
        make_face()
        with BuildLine():
            Line((642.106487178, 299.862747379), (642.617550945, 299.862747379))
            add(Edge.make_bspline(
                [(642.617550945, 299.862747379), (642.722054451, 299.865172716), (642.925280724, 299.869889229), (643.220054897, 299.898289891), (643.494111408, 299.951809873), (643.749840966, 300.021017819), (643.984372137, 300.114851792), (644.200147241, 300.225818296), (644.391160406, 300.362685327), (644.565327067, 300.516342321), (644.718148635, 300.691986294), (644.850351299, 300.889034217), (644.961199162, 301.106225057), (645.056078491, 301.342818683), (645.125883912, 301.600830857), (645.173262731, 301.879472914), (645.203404658, 302.177423605), (645.207875435, 302.383174491), (645.210173702, 302.488943669)],
                knots=[0, 0, 0, 0, 1.184986479, 2.304423995, 3.352332712, 4.347714965, 5.303263624, 6.211353909, 7.091434645, 7.960150225, 8.839440182, 9.723126897, 10.64371617, 11.599264829, 12.608232147, 13.667459739, 14.800924404, 16, 16, 16, 16], degree=3))
            add(Edge.make_bspline(
                [(645.210173702, 302.488943669), (645.207875435, 302.594712847), (645.203404658, 302.800463732), (645.173262731, 303.098414423), (645.125883912, 303.37705648), (645.056078491, 303.635068654), (644.961199162, 303.87166228), (644.850351299, 304.08885312), (644.718148635, 304.285901043), (644.565327067, 304.461545017), (644.391160406, 304.61520201), (644.200147241, 304.752069041), (643.984372137, 304.863035546), (643.749840966, 304.956869518), (643.494111408, 305.026077464), (643.220054897, 305.079597446), (642.925280724, 305.107998108), (642.722054451, 305.112714621), (642.617550945, 305.115139958)],
                knots=[0, 0, 0, 0, 1.199075596, 2.332540261, 3.391767853, 4.400735171, 5.35628383, 6.276873103, 7.160559818, 8.039849775, 8.908565355, 9.788646091, 10.696736376, 11.652285035, 12.647667288, 13.695576005, 14.815013521, 16, 16, 16, 16], degree=3))
            Line((642.617550945, 305.115139958), (642.106487178, 305.115139958))
            Line((642.106487178, 305.115139958), (642.106487178, 299.862747379))
        make_face(mode=Mode.SUBTRACT)
    extrude(amount=BOSS_EXTRUDE4_DEPTH)

    # Sketch18 → Cut-Extrude10 (cut, two sides: drawn at the far end of the back side and taken through both)
    with BuildSketch(Plane.XY.offset(-CUT_EXTRUDE10_DEPTH_BACK)):
        with Locations((335, 405)):
            Rectangle(SKETCH18_W, SKETCH18_H)
    extrude(amount=CUT_EXTRUDE10_DEPTH + CUT_EXTRUDE10_DEPTH_BACK, mode=Mode.SUBTRACT)

    # Sketch19 → Cut-Extrude11 (cut, two sides: drawn at the far end of the back side and taken through both)
    with BuildSketch(Plane.XY.offset(-100).offset(-CUT_EXTRUDE11_DEPTH_BACK)):
        with Locations((395, 140)):
            Rectangle(SKETCH19_W, SKETCH19_H)
    extrude(amount=CUT_EXTRUDE11_DEPTH + CUT_EXTRUDE11_DEPTH_BACK, mode=Mode.SUBTRACT)

    # Sketch20 → Cut-Extrude12 (cut, two sides: drawn at the far end of the back side and taken through both)
    with BuildSketch(Plane.XY.offset(-100).offset(-CUT_EXTRUDE12_DEPTH_BACK)):
        with Locations((60, 70)):
            Rectangle(SKETCH20_W, SKETCH20_H)
    extrude(amount=CUT_EXTRUDE12_DEPTH + CUT_EXTRUDE12_DEPTH_BACK, mode=Mode.SUBTRACT)


with BuildPart() as body_2:
    # Sketch11 → Boss-Extrude3 (new body)
    with BuildSketch(Plane.XY.offset(-100)):
        with Locations((255, 60)):
            Rectangle(SKETCH11_W, SKETCH11_H)
    extrude(amount=BOSS_EXTRUDE3_DEPTH)


with BuildPart() as body_3:
    # Sketch11 → Boss-Extrude3 2 (new body)
    with BuildSketch(Plane.XY.offset(-100)):
        with Locations((415, 60)):
            Rectangle(SKETCH11_W, SKETCH11_H)
    extrude(amount=BOSS_EXTRUDE3_2_DEPTH)


with BuildPart() as body_4:
    # Sketch11 → Boss-Extrude3 3 (new body)
    with BuildSketch(Plane.XY.offset(-100)):
        Polygon((25, 198.45686471), (325, 145.558770497), (325, 122.01775856), (345, 122.01775856), (345, 145.558770497), (645, 198.45686471), align=None)
    extrude(amount=BOSS_EXTRUDE3_3_DEPTH)

    # Sketch15 → Cut-Extrude7 (cut)
    with BuildSketch(Plane(origin=(345, 0, 0), x_dir=(0, 0, -1), z_dir=(1, 0, 0))):
        with Locations((35, 133.231921672)):
            Rectangle(SKETCH15_W, SKETCH15_H)
        with Locations((85, 130.506698154)):
            Rectangle(SKETCH15_W, SKETCH15_H_2)
    extrude(amount=-CUT_EXTRUDE7_DEPTH, mode=Mode.SUBTRACT)

    # Shell1
    shell1_openings = [body_4.faces().sort_by_distance(p)[0] for p in [
        (335, 198.45686471, -61),
    ]]
    offset(amount=SHELL1_T, openings=shell1_openings, kind=Kind.INTERSECTION)

    # Sketch16 → Cut-Extrude8 (cut)
    with BuildSketch(Plane.XZ.offset(-122.01775856)):
        with Locations((335, -60)):
            Rectangle(SKETCH16_W, SKETCH16_H)
    extrude(amount=-CUT_EXTRUDE8_DEPTH, mode=Mode.SUBTRACT)


solid = part.part
